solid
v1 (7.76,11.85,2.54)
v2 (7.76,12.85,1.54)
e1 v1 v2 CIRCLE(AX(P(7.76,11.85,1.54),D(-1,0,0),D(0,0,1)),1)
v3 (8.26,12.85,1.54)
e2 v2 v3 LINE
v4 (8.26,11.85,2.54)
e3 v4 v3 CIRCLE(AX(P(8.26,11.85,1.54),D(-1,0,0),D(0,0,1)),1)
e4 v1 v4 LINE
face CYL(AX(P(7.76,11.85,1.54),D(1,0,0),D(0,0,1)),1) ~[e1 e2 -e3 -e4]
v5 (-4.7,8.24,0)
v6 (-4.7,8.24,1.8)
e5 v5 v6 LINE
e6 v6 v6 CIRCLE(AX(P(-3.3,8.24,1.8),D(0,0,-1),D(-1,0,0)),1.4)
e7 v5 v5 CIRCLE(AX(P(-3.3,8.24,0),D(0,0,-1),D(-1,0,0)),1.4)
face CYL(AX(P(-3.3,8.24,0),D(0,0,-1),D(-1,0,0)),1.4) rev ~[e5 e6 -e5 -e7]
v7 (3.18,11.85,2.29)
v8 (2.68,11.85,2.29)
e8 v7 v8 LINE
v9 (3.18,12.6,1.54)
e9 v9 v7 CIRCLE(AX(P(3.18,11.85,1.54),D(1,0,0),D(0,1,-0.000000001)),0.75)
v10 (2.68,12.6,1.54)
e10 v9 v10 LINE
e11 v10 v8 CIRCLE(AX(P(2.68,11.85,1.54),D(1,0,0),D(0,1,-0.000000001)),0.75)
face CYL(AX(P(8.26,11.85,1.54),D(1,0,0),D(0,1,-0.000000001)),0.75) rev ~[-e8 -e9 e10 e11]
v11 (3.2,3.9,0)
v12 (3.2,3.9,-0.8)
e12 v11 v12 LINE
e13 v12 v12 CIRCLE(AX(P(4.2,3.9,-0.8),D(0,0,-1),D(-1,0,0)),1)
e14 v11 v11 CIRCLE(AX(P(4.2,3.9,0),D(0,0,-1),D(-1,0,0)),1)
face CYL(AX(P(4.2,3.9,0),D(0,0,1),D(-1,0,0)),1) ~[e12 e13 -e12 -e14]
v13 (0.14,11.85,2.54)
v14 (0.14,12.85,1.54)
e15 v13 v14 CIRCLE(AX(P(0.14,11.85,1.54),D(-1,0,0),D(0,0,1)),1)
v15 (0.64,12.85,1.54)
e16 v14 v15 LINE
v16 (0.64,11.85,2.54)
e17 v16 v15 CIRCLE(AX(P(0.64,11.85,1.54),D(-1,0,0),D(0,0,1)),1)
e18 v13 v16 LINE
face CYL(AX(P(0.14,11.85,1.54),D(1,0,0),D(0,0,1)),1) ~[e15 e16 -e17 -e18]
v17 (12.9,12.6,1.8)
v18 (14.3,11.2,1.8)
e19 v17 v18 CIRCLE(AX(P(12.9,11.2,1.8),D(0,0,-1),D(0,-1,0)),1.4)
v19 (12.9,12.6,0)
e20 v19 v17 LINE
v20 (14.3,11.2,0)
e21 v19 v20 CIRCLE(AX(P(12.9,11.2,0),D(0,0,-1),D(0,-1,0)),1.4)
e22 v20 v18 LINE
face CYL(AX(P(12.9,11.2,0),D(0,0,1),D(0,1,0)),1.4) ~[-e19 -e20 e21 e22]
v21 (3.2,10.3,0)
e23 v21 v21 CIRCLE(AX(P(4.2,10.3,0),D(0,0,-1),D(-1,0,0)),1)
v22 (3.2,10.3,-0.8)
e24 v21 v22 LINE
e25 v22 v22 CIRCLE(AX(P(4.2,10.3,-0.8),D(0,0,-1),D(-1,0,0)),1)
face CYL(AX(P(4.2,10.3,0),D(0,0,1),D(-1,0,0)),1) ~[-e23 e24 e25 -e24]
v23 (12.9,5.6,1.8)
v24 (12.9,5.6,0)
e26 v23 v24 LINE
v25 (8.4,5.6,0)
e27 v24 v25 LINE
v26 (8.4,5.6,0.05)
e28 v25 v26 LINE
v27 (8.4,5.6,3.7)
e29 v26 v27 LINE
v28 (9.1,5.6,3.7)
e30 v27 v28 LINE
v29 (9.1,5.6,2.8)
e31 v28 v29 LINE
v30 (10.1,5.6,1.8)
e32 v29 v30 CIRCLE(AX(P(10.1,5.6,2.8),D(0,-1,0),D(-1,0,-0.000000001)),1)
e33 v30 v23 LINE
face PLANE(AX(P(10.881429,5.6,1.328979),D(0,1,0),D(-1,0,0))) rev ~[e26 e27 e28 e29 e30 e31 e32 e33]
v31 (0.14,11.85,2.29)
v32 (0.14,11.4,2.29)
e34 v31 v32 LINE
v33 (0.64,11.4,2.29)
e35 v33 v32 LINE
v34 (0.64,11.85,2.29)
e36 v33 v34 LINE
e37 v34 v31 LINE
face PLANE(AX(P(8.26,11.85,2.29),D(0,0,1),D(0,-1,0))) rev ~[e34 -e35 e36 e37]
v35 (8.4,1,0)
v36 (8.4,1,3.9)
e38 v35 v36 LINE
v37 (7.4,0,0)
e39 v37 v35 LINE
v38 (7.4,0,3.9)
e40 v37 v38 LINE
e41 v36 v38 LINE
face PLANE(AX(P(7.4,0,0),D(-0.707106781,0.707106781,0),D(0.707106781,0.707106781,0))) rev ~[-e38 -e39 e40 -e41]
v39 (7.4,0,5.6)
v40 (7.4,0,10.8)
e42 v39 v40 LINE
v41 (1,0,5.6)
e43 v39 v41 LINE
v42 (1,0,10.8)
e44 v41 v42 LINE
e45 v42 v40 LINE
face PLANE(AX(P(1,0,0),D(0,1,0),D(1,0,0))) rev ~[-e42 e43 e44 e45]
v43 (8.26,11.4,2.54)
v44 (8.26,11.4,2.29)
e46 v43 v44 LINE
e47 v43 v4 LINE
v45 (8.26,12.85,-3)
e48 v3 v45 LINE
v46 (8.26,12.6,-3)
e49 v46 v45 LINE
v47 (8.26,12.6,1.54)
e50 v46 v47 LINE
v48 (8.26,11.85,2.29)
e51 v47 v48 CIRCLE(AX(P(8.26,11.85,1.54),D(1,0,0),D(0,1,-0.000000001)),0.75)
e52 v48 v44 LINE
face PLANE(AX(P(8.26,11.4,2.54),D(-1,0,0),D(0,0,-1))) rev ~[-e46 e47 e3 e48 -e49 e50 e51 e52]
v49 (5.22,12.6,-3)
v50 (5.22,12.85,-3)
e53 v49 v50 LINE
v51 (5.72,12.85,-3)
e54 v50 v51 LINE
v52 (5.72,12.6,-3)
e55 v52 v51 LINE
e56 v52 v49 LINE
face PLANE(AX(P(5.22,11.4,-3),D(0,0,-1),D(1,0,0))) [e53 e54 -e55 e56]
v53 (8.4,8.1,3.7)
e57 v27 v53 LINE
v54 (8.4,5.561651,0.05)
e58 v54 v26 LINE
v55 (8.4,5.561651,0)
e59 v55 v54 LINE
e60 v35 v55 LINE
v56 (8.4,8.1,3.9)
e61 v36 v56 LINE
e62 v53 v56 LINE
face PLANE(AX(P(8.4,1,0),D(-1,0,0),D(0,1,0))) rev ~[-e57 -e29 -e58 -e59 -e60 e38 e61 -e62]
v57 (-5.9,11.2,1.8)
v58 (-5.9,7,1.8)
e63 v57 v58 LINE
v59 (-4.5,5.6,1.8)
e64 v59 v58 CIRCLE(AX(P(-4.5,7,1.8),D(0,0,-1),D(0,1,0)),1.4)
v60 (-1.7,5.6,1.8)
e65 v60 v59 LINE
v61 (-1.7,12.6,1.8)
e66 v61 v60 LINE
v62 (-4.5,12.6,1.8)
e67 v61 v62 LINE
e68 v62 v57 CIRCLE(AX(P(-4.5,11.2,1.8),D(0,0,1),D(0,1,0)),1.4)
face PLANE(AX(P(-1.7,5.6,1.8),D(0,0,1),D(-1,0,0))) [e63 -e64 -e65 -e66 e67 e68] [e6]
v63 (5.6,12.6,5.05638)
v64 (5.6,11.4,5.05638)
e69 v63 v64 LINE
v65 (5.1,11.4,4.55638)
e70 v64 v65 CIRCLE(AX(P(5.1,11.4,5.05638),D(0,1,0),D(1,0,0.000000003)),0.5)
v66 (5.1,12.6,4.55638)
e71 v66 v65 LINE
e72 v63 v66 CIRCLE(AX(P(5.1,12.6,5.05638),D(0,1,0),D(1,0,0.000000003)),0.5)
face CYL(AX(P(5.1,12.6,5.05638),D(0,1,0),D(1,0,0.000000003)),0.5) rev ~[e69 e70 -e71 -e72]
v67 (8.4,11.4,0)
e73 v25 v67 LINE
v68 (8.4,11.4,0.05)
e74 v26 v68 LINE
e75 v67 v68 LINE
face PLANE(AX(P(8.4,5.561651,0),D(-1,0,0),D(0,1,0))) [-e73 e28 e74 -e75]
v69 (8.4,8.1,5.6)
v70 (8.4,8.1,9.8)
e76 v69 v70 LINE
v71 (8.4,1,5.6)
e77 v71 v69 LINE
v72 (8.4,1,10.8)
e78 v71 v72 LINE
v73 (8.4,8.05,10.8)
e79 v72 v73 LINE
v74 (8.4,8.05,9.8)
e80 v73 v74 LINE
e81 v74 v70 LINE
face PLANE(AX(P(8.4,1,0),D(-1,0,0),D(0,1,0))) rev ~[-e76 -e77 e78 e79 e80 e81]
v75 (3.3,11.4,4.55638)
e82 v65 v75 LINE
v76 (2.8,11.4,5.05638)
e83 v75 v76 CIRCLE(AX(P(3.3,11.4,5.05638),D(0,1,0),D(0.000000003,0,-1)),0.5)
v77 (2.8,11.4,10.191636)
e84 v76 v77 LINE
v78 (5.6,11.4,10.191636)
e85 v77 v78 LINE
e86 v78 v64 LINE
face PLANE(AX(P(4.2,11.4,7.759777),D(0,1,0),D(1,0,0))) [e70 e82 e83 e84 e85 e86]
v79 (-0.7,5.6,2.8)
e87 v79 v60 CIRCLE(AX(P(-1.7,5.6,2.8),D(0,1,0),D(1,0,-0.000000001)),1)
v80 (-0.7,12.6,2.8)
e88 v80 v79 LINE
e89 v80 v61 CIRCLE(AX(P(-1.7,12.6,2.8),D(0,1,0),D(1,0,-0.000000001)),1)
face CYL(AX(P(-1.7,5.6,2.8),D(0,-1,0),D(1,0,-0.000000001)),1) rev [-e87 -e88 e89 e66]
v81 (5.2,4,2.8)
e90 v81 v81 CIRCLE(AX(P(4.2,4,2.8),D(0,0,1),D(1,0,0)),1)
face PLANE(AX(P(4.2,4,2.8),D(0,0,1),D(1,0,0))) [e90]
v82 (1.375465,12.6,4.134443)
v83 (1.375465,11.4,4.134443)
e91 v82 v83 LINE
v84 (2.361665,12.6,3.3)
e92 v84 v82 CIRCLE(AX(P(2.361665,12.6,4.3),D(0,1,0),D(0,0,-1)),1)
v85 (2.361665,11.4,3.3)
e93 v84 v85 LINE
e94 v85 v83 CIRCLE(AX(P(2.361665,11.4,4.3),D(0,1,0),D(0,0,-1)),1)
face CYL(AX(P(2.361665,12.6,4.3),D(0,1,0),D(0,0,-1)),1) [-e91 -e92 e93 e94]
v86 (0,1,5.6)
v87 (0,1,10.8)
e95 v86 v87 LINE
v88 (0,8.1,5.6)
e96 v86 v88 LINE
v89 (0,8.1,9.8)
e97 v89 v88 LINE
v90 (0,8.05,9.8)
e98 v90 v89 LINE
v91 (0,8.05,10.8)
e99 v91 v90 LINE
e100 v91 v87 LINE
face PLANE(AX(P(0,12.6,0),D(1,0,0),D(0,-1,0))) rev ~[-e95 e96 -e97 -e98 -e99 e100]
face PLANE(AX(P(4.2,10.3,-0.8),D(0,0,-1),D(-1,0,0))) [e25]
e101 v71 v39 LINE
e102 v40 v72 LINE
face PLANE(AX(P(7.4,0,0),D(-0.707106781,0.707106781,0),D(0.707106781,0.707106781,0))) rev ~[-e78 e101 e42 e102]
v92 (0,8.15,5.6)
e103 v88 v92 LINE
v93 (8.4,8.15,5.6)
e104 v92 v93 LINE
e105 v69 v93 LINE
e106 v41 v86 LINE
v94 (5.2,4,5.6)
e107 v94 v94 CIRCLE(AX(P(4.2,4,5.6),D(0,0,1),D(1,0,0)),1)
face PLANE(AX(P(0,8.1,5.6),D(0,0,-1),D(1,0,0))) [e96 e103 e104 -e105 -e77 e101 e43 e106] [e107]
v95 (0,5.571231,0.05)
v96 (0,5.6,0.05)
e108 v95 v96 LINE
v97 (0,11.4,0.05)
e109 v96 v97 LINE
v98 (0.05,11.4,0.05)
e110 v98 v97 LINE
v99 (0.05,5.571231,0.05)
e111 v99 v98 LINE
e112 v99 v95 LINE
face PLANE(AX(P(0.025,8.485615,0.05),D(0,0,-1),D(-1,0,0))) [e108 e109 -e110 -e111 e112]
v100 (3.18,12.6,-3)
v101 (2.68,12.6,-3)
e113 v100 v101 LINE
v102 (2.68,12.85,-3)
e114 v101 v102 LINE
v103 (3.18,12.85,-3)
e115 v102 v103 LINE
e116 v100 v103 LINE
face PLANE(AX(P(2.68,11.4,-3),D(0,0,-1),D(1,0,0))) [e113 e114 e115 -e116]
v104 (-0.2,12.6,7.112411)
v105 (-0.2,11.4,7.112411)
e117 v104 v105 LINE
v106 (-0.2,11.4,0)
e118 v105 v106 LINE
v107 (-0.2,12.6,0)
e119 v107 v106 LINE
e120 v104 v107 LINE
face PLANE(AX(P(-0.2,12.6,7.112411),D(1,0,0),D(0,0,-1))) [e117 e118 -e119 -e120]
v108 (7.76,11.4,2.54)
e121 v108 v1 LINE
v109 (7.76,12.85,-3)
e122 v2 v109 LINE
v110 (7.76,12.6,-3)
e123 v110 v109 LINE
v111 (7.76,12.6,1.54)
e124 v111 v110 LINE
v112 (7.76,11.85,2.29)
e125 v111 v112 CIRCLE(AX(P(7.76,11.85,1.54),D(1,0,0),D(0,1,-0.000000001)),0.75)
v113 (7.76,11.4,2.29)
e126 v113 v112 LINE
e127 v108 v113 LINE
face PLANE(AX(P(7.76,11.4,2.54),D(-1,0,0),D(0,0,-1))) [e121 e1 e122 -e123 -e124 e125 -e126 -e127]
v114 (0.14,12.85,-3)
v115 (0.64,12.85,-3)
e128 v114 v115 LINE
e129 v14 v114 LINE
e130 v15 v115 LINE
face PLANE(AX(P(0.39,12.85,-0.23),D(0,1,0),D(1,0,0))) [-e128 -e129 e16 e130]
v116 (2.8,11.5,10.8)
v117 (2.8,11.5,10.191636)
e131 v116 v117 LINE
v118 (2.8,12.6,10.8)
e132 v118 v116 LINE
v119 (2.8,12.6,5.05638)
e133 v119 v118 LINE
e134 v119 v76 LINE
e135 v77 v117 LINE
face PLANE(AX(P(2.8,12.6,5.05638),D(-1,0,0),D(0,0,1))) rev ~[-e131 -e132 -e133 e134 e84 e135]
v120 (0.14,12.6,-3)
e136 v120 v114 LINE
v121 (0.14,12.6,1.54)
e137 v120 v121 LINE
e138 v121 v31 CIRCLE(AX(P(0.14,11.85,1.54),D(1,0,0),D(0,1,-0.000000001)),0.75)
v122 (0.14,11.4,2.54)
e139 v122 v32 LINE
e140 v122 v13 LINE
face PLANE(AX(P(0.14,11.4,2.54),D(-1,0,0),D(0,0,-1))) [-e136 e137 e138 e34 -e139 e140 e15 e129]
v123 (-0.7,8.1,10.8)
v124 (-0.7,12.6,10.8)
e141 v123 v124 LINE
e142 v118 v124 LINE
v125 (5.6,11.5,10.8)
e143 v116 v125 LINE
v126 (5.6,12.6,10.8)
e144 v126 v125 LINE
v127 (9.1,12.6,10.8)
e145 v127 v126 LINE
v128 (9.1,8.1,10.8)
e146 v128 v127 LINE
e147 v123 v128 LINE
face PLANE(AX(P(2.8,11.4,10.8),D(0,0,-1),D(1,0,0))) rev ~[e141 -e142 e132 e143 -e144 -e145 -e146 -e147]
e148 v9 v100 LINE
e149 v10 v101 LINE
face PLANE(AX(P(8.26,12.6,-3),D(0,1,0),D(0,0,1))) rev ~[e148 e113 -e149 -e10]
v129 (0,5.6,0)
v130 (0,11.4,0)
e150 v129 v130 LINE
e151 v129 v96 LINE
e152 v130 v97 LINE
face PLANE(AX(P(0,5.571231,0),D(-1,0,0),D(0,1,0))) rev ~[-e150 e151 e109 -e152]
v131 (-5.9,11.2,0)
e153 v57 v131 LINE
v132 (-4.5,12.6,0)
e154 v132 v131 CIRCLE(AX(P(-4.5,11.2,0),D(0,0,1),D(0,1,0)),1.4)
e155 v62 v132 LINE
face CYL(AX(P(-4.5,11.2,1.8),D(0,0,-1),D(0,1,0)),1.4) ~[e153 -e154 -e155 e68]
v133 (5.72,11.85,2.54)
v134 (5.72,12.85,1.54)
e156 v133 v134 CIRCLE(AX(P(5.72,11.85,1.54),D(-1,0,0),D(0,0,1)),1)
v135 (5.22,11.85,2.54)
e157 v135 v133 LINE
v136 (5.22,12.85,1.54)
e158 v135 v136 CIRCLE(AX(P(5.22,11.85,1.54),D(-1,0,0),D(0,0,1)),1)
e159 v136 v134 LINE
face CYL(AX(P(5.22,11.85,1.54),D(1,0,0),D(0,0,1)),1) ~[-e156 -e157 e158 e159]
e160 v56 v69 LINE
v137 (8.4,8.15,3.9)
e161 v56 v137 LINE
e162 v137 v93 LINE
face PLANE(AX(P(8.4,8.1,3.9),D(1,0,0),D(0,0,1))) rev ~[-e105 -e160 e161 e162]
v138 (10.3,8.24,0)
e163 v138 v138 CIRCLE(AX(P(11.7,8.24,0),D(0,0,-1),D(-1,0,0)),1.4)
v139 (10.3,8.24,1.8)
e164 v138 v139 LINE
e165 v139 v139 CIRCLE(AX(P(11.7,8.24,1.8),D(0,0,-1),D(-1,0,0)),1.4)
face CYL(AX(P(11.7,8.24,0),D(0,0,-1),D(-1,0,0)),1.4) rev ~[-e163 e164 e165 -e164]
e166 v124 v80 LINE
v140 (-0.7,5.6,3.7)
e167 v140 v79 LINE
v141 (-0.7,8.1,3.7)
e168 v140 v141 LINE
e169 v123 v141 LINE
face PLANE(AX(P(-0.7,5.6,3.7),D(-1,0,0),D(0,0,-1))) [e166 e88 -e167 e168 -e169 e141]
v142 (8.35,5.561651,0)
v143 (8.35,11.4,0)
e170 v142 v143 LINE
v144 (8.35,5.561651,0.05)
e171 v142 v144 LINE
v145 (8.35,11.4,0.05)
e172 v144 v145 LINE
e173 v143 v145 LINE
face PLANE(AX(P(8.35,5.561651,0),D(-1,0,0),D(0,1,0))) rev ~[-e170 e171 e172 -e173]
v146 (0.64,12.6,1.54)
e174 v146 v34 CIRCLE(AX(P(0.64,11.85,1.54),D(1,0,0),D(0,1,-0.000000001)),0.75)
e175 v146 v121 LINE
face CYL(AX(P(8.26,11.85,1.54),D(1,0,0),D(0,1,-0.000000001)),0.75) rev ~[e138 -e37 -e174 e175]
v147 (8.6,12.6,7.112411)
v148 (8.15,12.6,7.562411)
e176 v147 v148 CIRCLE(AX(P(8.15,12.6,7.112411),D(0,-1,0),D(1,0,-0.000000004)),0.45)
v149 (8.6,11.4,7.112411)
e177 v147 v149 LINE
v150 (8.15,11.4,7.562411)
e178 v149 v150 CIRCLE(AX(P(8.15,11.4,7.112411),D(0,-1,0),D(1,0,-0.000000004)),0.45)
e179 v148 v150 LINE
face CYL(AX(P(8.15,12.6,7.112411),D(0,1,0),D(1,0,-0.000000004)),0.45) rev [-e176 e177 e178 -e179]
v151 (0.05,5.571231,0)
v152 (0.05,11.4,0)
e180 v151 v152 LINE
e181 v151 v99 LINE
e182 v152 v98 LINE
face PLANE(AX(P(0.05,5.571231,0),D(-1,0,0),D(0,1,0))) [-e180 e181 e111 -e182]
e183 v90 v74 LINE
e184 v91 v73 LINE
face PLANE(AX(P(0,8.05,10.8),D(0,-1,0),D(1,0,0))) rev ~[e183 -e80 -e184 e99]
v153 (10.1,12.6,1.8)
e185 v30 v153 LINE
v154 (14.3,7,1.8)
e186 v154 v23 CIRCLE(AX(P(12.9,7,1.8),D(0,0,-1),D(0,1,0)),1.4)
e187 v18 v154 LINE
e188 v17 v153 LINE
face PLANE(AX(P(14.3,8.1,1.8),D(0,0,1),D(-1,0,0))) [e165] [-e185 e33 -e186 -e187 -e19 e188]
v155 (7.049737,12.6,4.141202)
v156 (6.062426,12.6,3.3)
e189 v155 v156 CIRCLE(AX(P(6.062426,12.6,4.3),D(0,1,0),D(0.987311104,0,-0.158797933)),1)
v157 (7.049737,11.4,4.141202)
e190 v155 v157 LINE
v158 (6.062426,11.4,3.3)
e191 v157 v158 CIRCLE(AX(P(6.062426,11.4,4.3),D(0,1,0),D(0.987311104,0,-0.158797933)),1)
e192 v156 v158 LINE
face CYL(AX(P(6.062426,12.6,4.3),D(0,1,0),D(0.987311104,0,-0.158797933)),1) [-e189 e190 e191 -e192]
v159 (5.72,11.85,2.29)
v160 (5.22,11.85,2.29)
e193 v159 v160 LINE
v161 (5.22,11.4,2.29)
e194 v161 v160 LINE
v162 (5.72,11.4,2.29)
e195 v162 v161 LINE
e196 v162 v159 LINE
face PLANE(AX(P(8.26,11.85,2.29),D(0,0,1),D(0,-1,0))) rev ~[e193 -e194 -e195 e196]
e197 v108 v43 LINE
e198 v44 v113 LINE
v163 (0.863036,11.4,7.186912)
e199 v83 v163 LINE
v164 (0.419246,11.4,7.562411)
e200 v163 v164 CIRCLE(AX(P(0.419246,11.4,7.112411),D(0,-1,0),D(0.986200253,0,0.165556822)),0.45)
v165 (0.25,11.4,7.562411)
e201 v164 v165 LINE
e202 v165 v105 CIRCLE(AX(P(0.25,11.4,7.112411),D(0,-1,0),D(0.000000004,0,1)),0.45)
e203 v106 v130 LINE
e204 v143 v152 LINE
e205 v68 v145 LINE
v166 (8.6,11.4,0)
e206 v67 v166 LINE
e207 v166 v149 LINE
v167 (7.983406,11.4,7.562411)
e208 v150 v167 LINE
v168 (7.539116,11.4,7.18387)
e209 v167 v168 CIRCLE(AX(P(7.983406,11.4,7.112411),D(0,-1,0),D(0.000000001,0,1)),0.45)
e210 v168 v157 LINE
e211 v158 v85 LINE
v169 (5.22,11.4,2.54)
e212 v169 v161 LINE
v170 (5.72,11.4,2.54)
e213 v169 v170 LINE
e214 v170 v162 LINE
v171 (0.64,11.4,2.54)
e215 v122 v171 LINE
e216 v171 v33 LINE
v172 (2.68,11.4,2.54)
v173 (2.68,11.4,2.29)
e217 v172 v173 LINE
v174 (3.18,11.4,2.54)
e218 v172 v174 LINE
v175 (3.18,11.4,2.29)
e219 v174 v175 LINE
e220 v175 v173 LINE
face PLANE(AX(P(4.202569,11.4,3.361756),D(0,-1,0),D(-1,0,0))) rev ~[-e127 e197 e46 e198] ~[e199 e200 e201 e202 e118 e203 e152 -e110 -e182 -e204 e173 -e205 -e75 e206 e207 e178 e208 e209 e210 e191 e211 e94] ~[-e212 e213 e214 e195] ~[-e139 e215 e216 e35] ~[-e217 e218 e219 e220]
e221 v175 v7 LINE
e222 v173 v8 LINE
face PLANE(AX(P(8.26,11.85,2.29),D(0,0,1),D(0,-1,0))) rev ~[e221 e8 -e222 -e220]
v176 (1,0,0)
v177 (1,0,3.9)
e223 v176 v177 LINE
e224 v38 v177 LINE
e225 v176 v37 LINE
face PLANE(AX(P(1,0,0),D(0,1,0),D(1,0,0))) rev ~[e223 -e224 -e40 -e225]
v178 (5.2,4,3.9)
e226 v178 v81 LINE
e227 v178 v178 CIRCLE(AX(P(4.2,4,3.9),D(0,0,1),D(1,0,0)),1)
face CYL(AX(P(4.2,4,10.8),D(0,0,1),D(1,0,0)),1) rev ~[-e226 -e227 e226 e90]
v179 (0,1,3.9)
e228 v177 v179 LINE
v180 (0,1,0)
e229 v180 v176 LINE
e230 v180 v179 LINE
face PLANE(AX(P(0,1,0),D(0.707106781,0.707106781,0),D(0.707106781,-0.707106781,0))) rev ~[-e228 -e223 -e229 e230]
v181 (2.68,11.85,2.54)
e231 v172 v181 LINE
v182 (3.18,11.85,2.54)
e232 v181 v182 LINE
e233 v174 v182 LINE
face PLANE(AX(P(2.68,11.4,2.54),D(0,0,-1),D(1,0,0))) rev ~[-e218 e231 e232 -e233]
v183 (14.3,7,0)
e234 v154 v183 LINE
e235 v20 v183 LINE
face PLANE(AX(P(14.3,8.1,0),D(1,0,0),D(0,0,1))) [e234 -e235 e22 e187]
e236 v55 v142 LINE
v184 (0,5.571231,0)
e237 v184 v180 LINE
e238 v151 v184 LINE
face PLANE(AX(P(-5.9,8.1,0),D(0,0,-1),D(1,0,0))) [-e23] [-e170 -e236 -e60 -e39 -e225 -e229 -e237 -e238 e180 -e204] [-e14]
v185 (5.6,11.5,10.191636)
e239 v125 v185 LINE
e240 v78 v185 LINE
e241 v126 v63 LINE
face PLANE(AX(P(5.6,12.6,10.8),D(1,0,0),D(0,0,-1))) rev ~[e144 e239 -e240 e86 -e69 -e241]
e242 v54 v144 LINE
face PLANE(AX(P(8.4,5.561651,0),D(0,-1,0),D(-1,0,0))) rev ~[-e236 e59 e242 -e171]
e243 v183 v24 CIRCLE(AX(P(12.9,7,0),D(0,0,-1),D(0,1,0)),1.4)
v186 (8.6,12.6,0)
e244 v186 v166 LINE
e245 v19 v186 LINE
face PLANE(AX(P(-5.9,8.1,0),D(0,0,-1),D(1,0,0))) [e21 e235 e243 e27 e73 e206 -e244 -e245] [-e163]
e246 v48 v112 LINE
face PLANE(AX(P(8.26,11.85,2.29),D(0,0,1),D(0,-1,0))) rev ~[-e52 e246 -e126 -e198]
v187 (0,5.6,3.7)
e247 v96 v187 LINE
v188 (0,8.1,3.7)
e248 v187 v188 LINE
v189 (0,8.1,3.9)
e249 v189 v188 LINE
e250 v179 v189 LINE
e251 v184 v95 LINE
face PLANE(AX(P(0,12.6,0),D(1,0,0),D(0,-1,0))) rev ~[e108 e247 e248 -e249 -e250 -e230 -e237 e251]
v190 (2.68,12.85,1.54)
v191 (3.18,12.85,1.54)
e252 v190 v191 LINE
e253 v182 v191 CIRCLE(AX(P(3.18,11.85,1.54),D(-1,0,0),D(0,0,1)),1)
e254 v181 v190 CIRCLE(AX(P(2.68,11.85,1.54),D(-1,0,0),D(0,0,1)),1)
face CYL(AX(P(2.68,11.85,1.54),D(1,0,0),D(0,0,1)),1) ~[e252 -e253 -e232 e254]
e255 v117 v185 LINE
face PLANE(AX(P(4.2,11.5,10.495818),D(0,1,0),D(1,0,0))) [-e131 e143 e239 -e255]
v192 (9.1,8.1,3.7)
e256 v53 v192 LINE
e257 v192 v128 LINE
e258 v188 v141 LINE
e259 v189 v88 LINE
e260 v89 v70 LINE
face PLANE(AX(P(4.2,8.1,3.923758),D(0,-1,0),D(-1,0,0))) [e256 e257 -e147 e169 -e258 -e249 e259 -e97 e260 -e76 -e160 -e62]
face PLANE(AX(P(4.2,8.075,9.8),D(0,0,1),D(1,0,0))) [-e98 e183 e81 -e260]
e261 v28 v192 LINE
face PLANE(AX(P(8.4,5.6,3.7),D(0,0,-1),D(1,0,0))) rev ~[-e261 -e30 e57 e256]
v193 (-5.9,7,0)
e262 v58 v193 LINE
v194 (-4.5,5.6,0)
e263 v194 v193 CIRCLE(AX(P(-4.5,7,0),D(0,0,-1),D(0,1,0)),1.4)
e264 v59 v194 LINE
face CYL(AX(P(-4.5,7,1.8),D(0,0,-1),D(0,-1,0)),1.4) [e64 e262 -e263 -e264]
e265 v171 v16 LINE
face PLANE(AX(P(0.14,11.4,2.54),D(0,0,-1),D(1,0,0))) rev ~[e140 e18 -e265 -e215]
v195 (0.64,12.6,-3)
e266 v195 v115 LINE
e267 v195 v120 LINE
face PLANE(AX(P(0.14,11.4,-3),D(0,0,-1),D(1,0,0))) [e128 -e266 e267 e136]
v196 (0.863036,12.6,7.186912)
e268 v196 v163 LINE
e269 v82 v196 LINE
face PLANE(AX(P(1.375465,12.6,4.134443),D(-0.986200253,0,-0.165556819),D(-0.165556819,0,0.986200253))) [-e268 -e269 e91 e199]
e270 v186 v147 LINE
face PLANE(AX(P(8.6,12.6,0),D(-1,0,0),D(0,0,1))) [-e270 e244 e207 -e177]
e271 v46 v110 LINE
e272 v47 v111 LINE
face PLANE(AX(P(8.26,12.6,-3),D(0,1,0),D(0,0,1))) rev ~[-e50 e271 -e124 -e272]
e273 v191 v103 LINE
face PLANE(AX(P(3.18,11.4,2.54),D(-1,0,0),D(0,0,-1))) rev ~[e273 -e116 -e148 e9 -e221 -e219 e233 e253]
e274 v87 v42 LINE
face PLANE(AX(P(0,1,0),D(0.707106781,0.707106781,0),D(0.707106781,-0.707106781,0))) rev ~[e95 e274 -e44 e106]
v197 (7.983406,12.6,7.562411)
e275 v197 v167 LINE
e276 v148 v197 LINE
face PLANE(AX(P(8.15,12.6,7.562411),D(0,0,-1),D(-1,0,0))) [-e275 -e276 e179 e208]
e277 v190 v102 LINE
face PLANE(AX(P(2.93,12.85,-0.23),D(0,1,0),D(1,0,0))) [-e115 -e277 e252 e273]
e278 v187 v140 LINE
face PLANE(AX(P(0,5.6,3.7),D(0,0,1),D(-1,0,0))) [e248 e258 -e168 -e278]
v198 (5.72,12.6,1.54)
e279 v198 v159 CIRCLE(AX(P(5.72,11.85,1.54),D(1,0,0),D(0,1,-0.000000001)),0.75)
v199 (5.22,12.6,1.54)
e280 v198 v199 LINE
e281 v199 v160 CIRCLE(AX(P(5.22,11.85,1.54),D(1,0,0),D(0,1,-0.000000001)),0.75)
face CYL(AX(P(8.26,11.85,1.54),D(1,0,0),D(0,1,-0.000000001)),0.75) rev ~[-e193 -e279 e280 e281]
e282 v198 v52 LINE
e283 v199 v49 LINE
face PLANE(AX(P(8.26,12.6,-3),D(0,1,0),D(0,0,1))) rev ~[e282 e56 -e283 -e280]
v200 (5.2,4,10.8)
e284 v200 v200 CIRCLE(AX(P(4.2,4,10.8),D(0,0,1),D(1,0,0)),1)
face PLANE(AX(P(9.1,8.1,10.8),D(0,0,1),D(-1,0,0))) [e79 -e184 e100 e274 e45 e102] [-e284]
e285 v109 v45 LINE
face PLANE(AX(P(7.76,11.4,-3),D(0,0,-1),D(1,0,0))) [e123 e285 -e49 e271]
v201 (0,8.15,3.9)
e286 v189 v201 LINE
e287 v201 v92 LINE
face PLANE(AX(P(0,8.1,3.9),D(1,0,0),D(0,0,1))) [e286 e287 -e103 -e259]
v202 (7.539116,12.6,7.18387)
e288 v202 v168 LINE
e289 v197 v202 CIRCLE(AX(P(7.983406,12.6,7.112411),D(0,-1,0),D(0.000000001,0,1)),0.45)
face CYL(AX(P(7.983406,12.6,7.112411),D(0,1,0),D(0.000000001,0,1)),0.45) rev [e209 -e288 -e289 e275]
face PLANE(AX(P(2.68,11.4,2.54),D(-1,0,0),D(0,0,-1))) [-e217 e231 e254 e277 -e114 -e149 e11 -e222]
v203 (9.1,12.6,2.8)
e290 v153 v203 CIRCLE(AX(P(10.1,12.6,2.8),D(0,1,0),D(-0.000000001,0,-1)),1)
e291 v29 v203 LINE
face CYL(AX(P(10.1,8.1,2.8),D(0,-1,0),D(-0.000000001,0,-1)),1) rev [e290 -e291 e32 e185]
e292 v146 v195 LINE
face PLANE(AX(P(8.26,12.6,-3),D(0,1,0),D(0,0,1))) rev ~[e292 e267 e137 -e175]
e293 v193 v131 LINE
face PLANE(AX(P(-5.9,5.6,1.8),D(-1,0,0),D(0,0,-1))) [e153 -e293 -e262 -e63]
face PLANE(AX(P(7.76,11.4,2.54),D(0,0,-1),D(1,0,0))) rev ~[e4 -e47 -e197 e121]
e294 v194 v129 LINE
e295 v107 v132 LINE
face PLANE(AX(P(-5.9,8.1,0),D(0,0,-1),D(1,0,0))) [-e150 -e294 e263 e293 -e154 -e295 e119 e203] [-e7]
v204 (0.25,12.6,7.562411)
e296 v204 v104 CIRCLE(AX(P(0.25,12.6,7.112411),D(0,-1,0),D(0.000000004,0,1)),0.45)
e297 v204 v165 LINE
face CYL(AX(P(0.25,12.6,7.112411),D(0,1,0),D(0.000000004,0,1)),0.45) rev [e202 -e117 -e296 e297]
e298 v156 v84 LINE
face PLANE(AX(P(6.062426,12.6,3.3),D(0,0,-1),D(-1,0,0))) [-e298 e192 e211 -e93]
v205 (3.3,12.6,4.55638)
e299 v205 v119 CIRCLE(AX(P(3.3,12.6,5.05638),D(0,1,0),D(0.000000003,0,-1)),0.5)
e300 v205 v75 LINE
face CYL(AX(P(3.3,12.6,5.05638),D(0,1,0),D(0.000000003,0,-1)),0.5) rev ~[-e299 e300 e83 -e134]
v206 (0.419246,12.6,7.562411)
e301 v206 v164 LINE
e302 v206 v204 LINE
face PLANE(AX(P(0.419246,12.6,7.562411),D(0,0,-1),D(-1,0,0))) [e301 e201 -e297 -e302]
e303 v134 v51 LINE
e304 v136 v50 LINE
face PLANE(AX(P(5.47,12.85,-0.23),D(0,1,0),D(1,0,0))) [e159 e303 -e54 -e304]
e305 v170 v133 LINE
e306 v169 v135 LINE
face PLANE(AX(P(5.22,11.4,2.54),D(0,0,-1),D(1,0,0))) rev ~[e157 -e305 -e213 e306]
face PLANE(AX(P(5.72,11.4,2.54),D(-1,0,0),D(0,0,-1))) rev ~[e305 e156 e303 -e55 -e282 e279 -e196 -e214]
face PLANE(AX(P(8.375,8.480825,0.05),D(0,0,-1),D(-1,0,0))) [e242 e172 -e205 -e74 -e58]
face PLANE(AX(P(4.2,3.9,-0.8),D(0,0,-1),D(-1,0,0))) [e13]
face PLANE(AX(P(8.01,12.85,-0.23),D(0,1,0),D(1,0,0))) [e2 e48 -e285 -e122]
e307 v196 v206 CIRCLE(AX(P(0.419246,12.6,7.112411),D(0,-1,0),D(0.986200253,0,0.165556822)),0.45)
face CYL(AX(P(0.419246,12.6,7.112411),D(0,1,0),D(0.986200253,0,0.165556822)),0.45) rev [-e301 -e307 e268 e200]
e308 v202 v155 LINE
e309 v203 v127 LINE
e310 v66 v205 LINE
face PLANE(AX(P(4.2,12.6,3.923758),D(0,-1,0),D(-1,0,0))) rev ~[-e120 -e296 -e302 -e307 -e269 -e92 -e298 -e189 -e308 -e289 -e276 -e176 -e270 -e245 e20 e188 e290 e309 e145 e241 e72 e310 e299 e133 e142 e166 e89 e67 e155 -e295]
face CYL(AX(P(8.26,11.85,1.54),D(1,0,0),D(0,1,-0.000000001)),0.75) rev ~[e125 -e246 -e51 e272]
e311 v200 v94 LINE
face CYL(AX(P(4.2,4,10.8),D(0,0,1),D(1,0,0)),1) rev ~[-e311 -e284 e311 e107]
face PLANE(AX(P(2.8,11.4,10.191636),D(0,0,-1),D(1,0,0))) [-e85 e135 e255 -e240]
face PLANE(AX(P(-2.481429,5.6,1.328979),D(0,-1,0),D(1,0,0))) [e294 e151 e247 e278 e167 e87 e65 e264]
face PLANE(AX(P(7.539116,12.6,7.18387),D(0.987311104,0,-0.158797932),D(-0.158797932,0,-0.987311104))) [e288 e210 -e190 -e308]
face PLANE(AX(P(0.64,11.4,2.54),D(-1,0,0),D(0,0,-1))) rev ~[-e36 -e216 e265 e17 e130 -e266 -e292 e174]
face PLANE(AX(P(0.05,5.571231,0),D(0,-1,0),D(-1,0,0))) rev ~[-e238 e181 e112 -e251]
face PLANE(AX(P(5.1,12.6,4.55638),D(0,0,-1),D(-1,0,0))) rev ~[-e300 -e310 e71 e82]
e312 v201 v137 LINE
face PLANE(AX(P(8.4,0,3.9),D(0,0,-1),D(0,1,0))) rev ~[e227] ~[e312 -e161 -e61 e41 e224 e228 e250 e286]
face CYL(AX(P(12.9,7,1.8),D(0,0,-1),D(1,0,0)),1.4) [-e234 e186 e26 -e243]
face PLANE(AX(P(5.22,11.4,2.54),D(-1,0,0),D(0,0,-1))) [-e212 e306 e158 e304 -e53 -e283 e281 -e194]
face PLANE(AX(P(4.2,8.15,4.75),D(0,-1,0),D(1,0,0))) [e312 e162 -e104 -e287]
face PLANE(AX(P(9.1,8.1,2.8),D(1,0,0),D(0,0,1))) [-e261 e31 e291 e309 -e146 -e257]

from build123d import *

# Parameters (mm, degrees)
EXTRUDE_1_DEPTH      = 10.8
SKETCH_2_R           = 1
EXTRUDE_2_DEPTH      = 0.8
SKETCH_3_W           = 1.7
SKETCH_3_H           = 8.1
CUT_EXTRUDE_1_DEPTH  = 17.8
EXTRUDE_START        = -4.5
EXTRUDE_3_DEPTH      = 4.5
SKETCH_5_W           = 8.4
SKETCH_5_H           = 0.05
CUT_EXTRUDE_2_DEPTH  = 1
SKETCH_6_R           = 1
CUT_EXTRUDE_3_DEPTH  = 8
CUT_EXTRUDE_4_DEPTH  = 1.2
SKETCH_8_W           = 2.8
SKETCH_8_H           = 0.608363533
EXTRUDE_4_DEPTH      = 0.1
EXTRUDE_START_2      = 2.5
EXTRUDE_5_DEPTH      = 2.5
SKETCH_10_W          = 8.4
SKETCH_10_H          = 1.7
CUT_EXTRUDE_5_DEPTH  = 0.05
FILLET_1_R           = 1.4
SKETCH_11_W          = 0.05
SKETCH_11_H          = 5.83834946
SKETCH_11_H_2        = 5.828769054
CUT_EXTRUDE_8_DEPTH  = 0.05
SKETCH_12_R          = 1.4
CUT_EXTRUDE_9_DEPTH  = 4
SKETCH_13_W          = 0.5
SKETCH_13_H          = 5.54
EXTRUDE_6_DEPTH      = 1.45
FILLET_2_R           = 1
CUT_EXTRUDE_START    = -8.12
CUT_EXTRUDE_10_DEPTH = 8.12


with BuildPart() as part:
    # Эскиз1 → Бобышка-Вытянуть1 (new body)
    with BuildSketch(Plane.XY):
        Polygon((7.4, 0), (8.4, 1), (8.4, 12.6), (0, 12.6), (0, 1), (1, 0), align=None)
    extrude(amount=EXTRUDE_1_DEPTH)

    # Эскиз2 → Бобышка-Вытянуть2 (add)
    with BuildSketch(Plane(origin=(0, 0, 0), x_dir=(-1, 0, 0), z_dir=(0, 0, -1))):
        with Locations((-4.2, 10.3)):
            Circle(SKETCH_2_R)
        with Locations((-4.2, 3.9)):
            Circle(SKETCH_2_R)
    extrude(amount=EXTRUDE_2_DEPTH)

    # Эскиз3 → Вырез-Вытянуть1 (cut)
    with BuildSketch(Plane(origin=(8.4, 0, 0), x_dir=(0, 0, -1), z_dir=(1, 0, 0))):
        with Locations((-4.75, 4.05)):
            Rectangle(SKETCH_3_W, SKETCH_3_H)
    extrude(amount=-CUT_EXTRUDE_1_DEPTH, mode=Mode.SUBTRACT)

    # Эскиз4 → Бобышка-Вытянуть3 (add)
    with BuildSketch(Plane(origin=(0, 12.6, 0), x_dir=(1, 0, 0), z_dir=(0, 1, 0)).offset(EXTRUDE_START)):
        with BuildLine():
            Line((9.1, -10.8), (-0.7, -10.8))
            Line((-0.7, -10.8), (-0.7, -2.8))
            ThreePointArc((-0.7, -2.8), (-0.992893219, -2.092893219), (-1.7, -1.8))
            Line((-1.7, -1.8), (-5.9, -1.8))
            Line((-5.9, -1.8), (-5.9, 0))
            Line((-5.9, 0), (14.3, 0))
            Line((14.3, 0), (14.3, -1.8))
            Line((14.3, -1.8), (10.1, -1.8))
            ThreePointArc((10.1, -1.8), (9.392893219, -2.092893219), (9.1, -2.8))
            Line((9.1, -2.8), (9.1, -10.8))
        make_face()
    extrude(amount=EXTRUDE_3_DEPTH)

    # Эскиз5 → Вырез-Вытянуть2 (cut)
    with BuildSketch(Plane.XY.offset(10.8)):
        with Locations((4.2, 8.075)):
            Rectangle(SKETCH_5_W, SKETCH_5_H)
    extrude(amount=-CUT_EXTRUDE_2_DEPTH, mode=Mode.SUBTRACT)

    # Эскиз6 → Вырез-Вытянуть3 (cut)
    with BuildSketch(Plane.XY.offset(10.8)):
        with Locations((4.2, 4)):
            Circle(SKETCH_6_R)
    extrude(amount=-CUT_EXTRUDE_3_DEPTH, mode=Mode.SUBTRACT)

    # Эскиз7 → Вырез-Вытянуть4 (cut)
    with BuildSketch(Plane(origin=(0, 12.6, 0), x_dir=(1, 0, 0), z_dir=(0, 1, 0))):
        with BuildLine():
            Line((8.6, 0), (8.6, -7.112411136))
            ThreePointArc((8.6, -7.112411136), (8.468198052, -7.430609188), (8.15, -7.562411136))
            Line((8.15, -7.562411136), (7.983405928, -7.562411136))
            ThreePointArc((7.983405928, -7.562411136), (7.691564003, -7.454943311), (7.539115931, -7.183870205))
            Line((7.539115931, -7.183870205), (7.049736844, -4.141202068))
            ThreePointArc((7.049736844, -4.141202068), (6.710963351, -3.53881739), (6.062425739, -3.3))
            Line((6.062425739, -3.3), (2.361664993, -3.3))
            ThreePointArc((2.361664993, -3.3), (1.71573807, -3.536600753), (1.37546474, -4.13444318))
            Line((1.37546474, -4.13444318), (0.863036378, -7.186911705))
            ThreePointArc((0.863036378, -7.186911705), (0.709913379, -7.455940797), (0.419246264, -7.562411136))
            Line((0.419246264, -7.562411136), (0.25, -7.562411136))
            ThreePointArc((0.25, -7.562411136), (-0.068198052, -7.430609188), (-0.2, -7.112411136))
            Line((-0.2, -7.112411136), (-0.2, 0))
            Line((-0.2, 0), (8.6, 0))
        make_face()
        with BuildLine():
            Line((4.2, -10.8), (5.6, -10.8))
            Line((5.6, -10.8), (5.6, -5.056380156))
            ThreePointArc((5.6, -5.056380156), (5.453553391, -4.702826765), (5.1, -4.556380156))
            Line((5.1, -4.556380156), (3.3, -4.556380156))
            ThreePointArc((3.3, -4.556380156), (2.946446609, -4.702826765), (2.8, -5.056380156))
            Line((2.8, -5.056380156), (2.8, -10.8))
            Line((2.8, -10.8), (4.2, -10.8))
        make_face()
    extrude(amount=-CUT_EXTRUDE_4_DEPTH, mode=Mode.SUBTRACT)

    # Эскиз8 → Бобышка-Вытянуть4 (add)
    with BuildSketch(Plane(origin=(0, 11.4, 0), x_dir=(1, 0, 0), z_dir=(0, 1, 0))):
        with Locations((4.2, -10.495818233)):
            Rectangle(SKETCH_8_W, SKETCH_8_H)
    extrude(amount=EXTRUDE_4_DEPTH)

    # Эскиз9 → Бобышка-Вытянуть5 (add)
    with BuildSketch(Plane.XZ.offset(-8.1).offset(EXTRUDE_START_2)):
        with BuildLine():
            Line((0, 0), (0, 3.7))
            Line((0, 3.7), (-0.7, 3.7))
            Line((-0.7, 3.7), (-0.7, 2.8))
            ThreePointArc((-0.7, 2.8), (-0.992893219, 2.092893219), (-1.7, 1.8))
            Line((-1.7, 1.8), (-5.9, 1.8))
            Line((-5.9, 1.8), (-5.9, 0))
            Line((-5.9, 0), (0, 0))
        make_face()
        with BuildLine():
            Line((14.3, 0), (8.4, 0))
            Line((8.4, 0), (8.4, 3.7))
            Line((8.4, 3.7), (9.1, 3.7))
            Line((9.1, 3.7), (9.1, 2.8))
            ThreePointArc((9.1, 2.8), (9.392893219, 2.092893219), (10.1, 1.8))
            Line((10.1, 1.8), (14.3, 1.8))
            Line((14.3, 1.8), (14.3, 0))
        make_face()
    extrude(amount=-EXTRUDE_5_DEPTH)

    # Эскиз10 → Вырез-Вытянуть5 (cut)
    with BuildSketch(Plane.XZ.offset(-8.1)):
        with Locations((4.2, 4.75)):
            Rectangle(SKETCH_10_W, SKETCH_10_H)
    extrude(amount=-CUT_EXTRUDE_5_DEPTH, mode=Mode.SUBTRACT)

    # Скругление1
    fillet_1_edges = [part.edges().sort_by_distance(p)[0] for p in [
        (-5.9, 5.6, 0.9),
        (14.3, 5.6, 0.9),
        (14.3, 12.6, 0.9),
        (-5.9, 12.6, 0.9),
    ]]
    fillet(fillet_1_edges, radius=FILLET_1_R)

    # Эскиз11 → Вырез-Вытянуть8 (cut)
    with BuildSketch(Plane(origin=(0, 0, 0), x_dir=(-1, 0, 0), z_dir=(0, 0, -1))):
        with Locations((-8.375, 8.48082527)):
            Rectangle(SKETCH_11_W, SKETCH_11_H)
        with Locations((-0.025, 8.485615473)):
            Rectangle(SKETCH_11_W, SKETCH_11_H_2)
    extrude(amount=-CUT_EXTRUDE_8_DEPTH, mode=Mode.SUBTRACT)

    # Эскиз12 → Вырез-Вытянуть9 (cut)
    with BuildSketch(Plane(origin=(0, 0, 0), x_dir=(-1, 0, 0), z_dir=(0, 0, -1))):
        with Locations((-11.7, 8.24)):
            Circle(SKETCH_12_R)
        with Locations((3.3, 8.24)):
            Circle(SKETCH_12_R)
    extrude(amount=-CUT_EXTRUDE_9_DEPTH, mode=Mode.SUBTRACT)

    # Эскиз13 → Бобышка-Вытянуть6 (add)
    with BuildSketch(Plane(origin=(0, 11.4, 0), x_dir=(1, 0, 0), z_dir=(0, 1, 0))):
        with Locations((5.47, 0.23)):
            Rectangle(SKETCH_13_W, SKETCH_13_H)
        with Locations((8.01, 0.23)):
            Rectangle(SKETCH_13_W, SKETCH_13_H)
        with Locations((2.93, 0.23)):
            Rectangle(SKETCH_13_W, SKETCH_13_H)
        with Locations((0.39, 0.23)):
            Rectangle(SKETCH_13_W, SKETCH_13_H)
    extrude(amount=EXTRUDE_6_DEPTH)

    # Скругление2
    fillet_2_edges = [part.edges().sort_by_distance(p)[0] for p in [
        (5.47, 12.85, 2.54),
        (2.93, 12.85, 2.54),
        (0.39, 12.85, 2.54),
        (8.01, 12.85, 2.54),
    ]]
    fillet(fillet_2_edges, radius=FILLET_2_R)

    # Эскиз14 → Вырез-Вытянуть10 (cut)
    with BuildSketch(Plane.ZY.offset(-0.14).offset(CUT_EXTRUDE_START)):
        with BuildLine():
            Line((-3, 12.6), (1.54, 12.6))
            ThreePointArc((1.54, 12.6), (2.070330086, 12.380330086), (2.29, 11.85))
            Line((2.29, 11.85), (2.29, 11.4))
            Line((2.29, 11.4), (-3, 11.4))
            Line((-3, 11.4), (-3, 12.6))
        make_face()
    extrude(amount=CUT_EXTRUDE_10_DEPTH, mode=Mode.SUBTRACT)


solid = part.part
